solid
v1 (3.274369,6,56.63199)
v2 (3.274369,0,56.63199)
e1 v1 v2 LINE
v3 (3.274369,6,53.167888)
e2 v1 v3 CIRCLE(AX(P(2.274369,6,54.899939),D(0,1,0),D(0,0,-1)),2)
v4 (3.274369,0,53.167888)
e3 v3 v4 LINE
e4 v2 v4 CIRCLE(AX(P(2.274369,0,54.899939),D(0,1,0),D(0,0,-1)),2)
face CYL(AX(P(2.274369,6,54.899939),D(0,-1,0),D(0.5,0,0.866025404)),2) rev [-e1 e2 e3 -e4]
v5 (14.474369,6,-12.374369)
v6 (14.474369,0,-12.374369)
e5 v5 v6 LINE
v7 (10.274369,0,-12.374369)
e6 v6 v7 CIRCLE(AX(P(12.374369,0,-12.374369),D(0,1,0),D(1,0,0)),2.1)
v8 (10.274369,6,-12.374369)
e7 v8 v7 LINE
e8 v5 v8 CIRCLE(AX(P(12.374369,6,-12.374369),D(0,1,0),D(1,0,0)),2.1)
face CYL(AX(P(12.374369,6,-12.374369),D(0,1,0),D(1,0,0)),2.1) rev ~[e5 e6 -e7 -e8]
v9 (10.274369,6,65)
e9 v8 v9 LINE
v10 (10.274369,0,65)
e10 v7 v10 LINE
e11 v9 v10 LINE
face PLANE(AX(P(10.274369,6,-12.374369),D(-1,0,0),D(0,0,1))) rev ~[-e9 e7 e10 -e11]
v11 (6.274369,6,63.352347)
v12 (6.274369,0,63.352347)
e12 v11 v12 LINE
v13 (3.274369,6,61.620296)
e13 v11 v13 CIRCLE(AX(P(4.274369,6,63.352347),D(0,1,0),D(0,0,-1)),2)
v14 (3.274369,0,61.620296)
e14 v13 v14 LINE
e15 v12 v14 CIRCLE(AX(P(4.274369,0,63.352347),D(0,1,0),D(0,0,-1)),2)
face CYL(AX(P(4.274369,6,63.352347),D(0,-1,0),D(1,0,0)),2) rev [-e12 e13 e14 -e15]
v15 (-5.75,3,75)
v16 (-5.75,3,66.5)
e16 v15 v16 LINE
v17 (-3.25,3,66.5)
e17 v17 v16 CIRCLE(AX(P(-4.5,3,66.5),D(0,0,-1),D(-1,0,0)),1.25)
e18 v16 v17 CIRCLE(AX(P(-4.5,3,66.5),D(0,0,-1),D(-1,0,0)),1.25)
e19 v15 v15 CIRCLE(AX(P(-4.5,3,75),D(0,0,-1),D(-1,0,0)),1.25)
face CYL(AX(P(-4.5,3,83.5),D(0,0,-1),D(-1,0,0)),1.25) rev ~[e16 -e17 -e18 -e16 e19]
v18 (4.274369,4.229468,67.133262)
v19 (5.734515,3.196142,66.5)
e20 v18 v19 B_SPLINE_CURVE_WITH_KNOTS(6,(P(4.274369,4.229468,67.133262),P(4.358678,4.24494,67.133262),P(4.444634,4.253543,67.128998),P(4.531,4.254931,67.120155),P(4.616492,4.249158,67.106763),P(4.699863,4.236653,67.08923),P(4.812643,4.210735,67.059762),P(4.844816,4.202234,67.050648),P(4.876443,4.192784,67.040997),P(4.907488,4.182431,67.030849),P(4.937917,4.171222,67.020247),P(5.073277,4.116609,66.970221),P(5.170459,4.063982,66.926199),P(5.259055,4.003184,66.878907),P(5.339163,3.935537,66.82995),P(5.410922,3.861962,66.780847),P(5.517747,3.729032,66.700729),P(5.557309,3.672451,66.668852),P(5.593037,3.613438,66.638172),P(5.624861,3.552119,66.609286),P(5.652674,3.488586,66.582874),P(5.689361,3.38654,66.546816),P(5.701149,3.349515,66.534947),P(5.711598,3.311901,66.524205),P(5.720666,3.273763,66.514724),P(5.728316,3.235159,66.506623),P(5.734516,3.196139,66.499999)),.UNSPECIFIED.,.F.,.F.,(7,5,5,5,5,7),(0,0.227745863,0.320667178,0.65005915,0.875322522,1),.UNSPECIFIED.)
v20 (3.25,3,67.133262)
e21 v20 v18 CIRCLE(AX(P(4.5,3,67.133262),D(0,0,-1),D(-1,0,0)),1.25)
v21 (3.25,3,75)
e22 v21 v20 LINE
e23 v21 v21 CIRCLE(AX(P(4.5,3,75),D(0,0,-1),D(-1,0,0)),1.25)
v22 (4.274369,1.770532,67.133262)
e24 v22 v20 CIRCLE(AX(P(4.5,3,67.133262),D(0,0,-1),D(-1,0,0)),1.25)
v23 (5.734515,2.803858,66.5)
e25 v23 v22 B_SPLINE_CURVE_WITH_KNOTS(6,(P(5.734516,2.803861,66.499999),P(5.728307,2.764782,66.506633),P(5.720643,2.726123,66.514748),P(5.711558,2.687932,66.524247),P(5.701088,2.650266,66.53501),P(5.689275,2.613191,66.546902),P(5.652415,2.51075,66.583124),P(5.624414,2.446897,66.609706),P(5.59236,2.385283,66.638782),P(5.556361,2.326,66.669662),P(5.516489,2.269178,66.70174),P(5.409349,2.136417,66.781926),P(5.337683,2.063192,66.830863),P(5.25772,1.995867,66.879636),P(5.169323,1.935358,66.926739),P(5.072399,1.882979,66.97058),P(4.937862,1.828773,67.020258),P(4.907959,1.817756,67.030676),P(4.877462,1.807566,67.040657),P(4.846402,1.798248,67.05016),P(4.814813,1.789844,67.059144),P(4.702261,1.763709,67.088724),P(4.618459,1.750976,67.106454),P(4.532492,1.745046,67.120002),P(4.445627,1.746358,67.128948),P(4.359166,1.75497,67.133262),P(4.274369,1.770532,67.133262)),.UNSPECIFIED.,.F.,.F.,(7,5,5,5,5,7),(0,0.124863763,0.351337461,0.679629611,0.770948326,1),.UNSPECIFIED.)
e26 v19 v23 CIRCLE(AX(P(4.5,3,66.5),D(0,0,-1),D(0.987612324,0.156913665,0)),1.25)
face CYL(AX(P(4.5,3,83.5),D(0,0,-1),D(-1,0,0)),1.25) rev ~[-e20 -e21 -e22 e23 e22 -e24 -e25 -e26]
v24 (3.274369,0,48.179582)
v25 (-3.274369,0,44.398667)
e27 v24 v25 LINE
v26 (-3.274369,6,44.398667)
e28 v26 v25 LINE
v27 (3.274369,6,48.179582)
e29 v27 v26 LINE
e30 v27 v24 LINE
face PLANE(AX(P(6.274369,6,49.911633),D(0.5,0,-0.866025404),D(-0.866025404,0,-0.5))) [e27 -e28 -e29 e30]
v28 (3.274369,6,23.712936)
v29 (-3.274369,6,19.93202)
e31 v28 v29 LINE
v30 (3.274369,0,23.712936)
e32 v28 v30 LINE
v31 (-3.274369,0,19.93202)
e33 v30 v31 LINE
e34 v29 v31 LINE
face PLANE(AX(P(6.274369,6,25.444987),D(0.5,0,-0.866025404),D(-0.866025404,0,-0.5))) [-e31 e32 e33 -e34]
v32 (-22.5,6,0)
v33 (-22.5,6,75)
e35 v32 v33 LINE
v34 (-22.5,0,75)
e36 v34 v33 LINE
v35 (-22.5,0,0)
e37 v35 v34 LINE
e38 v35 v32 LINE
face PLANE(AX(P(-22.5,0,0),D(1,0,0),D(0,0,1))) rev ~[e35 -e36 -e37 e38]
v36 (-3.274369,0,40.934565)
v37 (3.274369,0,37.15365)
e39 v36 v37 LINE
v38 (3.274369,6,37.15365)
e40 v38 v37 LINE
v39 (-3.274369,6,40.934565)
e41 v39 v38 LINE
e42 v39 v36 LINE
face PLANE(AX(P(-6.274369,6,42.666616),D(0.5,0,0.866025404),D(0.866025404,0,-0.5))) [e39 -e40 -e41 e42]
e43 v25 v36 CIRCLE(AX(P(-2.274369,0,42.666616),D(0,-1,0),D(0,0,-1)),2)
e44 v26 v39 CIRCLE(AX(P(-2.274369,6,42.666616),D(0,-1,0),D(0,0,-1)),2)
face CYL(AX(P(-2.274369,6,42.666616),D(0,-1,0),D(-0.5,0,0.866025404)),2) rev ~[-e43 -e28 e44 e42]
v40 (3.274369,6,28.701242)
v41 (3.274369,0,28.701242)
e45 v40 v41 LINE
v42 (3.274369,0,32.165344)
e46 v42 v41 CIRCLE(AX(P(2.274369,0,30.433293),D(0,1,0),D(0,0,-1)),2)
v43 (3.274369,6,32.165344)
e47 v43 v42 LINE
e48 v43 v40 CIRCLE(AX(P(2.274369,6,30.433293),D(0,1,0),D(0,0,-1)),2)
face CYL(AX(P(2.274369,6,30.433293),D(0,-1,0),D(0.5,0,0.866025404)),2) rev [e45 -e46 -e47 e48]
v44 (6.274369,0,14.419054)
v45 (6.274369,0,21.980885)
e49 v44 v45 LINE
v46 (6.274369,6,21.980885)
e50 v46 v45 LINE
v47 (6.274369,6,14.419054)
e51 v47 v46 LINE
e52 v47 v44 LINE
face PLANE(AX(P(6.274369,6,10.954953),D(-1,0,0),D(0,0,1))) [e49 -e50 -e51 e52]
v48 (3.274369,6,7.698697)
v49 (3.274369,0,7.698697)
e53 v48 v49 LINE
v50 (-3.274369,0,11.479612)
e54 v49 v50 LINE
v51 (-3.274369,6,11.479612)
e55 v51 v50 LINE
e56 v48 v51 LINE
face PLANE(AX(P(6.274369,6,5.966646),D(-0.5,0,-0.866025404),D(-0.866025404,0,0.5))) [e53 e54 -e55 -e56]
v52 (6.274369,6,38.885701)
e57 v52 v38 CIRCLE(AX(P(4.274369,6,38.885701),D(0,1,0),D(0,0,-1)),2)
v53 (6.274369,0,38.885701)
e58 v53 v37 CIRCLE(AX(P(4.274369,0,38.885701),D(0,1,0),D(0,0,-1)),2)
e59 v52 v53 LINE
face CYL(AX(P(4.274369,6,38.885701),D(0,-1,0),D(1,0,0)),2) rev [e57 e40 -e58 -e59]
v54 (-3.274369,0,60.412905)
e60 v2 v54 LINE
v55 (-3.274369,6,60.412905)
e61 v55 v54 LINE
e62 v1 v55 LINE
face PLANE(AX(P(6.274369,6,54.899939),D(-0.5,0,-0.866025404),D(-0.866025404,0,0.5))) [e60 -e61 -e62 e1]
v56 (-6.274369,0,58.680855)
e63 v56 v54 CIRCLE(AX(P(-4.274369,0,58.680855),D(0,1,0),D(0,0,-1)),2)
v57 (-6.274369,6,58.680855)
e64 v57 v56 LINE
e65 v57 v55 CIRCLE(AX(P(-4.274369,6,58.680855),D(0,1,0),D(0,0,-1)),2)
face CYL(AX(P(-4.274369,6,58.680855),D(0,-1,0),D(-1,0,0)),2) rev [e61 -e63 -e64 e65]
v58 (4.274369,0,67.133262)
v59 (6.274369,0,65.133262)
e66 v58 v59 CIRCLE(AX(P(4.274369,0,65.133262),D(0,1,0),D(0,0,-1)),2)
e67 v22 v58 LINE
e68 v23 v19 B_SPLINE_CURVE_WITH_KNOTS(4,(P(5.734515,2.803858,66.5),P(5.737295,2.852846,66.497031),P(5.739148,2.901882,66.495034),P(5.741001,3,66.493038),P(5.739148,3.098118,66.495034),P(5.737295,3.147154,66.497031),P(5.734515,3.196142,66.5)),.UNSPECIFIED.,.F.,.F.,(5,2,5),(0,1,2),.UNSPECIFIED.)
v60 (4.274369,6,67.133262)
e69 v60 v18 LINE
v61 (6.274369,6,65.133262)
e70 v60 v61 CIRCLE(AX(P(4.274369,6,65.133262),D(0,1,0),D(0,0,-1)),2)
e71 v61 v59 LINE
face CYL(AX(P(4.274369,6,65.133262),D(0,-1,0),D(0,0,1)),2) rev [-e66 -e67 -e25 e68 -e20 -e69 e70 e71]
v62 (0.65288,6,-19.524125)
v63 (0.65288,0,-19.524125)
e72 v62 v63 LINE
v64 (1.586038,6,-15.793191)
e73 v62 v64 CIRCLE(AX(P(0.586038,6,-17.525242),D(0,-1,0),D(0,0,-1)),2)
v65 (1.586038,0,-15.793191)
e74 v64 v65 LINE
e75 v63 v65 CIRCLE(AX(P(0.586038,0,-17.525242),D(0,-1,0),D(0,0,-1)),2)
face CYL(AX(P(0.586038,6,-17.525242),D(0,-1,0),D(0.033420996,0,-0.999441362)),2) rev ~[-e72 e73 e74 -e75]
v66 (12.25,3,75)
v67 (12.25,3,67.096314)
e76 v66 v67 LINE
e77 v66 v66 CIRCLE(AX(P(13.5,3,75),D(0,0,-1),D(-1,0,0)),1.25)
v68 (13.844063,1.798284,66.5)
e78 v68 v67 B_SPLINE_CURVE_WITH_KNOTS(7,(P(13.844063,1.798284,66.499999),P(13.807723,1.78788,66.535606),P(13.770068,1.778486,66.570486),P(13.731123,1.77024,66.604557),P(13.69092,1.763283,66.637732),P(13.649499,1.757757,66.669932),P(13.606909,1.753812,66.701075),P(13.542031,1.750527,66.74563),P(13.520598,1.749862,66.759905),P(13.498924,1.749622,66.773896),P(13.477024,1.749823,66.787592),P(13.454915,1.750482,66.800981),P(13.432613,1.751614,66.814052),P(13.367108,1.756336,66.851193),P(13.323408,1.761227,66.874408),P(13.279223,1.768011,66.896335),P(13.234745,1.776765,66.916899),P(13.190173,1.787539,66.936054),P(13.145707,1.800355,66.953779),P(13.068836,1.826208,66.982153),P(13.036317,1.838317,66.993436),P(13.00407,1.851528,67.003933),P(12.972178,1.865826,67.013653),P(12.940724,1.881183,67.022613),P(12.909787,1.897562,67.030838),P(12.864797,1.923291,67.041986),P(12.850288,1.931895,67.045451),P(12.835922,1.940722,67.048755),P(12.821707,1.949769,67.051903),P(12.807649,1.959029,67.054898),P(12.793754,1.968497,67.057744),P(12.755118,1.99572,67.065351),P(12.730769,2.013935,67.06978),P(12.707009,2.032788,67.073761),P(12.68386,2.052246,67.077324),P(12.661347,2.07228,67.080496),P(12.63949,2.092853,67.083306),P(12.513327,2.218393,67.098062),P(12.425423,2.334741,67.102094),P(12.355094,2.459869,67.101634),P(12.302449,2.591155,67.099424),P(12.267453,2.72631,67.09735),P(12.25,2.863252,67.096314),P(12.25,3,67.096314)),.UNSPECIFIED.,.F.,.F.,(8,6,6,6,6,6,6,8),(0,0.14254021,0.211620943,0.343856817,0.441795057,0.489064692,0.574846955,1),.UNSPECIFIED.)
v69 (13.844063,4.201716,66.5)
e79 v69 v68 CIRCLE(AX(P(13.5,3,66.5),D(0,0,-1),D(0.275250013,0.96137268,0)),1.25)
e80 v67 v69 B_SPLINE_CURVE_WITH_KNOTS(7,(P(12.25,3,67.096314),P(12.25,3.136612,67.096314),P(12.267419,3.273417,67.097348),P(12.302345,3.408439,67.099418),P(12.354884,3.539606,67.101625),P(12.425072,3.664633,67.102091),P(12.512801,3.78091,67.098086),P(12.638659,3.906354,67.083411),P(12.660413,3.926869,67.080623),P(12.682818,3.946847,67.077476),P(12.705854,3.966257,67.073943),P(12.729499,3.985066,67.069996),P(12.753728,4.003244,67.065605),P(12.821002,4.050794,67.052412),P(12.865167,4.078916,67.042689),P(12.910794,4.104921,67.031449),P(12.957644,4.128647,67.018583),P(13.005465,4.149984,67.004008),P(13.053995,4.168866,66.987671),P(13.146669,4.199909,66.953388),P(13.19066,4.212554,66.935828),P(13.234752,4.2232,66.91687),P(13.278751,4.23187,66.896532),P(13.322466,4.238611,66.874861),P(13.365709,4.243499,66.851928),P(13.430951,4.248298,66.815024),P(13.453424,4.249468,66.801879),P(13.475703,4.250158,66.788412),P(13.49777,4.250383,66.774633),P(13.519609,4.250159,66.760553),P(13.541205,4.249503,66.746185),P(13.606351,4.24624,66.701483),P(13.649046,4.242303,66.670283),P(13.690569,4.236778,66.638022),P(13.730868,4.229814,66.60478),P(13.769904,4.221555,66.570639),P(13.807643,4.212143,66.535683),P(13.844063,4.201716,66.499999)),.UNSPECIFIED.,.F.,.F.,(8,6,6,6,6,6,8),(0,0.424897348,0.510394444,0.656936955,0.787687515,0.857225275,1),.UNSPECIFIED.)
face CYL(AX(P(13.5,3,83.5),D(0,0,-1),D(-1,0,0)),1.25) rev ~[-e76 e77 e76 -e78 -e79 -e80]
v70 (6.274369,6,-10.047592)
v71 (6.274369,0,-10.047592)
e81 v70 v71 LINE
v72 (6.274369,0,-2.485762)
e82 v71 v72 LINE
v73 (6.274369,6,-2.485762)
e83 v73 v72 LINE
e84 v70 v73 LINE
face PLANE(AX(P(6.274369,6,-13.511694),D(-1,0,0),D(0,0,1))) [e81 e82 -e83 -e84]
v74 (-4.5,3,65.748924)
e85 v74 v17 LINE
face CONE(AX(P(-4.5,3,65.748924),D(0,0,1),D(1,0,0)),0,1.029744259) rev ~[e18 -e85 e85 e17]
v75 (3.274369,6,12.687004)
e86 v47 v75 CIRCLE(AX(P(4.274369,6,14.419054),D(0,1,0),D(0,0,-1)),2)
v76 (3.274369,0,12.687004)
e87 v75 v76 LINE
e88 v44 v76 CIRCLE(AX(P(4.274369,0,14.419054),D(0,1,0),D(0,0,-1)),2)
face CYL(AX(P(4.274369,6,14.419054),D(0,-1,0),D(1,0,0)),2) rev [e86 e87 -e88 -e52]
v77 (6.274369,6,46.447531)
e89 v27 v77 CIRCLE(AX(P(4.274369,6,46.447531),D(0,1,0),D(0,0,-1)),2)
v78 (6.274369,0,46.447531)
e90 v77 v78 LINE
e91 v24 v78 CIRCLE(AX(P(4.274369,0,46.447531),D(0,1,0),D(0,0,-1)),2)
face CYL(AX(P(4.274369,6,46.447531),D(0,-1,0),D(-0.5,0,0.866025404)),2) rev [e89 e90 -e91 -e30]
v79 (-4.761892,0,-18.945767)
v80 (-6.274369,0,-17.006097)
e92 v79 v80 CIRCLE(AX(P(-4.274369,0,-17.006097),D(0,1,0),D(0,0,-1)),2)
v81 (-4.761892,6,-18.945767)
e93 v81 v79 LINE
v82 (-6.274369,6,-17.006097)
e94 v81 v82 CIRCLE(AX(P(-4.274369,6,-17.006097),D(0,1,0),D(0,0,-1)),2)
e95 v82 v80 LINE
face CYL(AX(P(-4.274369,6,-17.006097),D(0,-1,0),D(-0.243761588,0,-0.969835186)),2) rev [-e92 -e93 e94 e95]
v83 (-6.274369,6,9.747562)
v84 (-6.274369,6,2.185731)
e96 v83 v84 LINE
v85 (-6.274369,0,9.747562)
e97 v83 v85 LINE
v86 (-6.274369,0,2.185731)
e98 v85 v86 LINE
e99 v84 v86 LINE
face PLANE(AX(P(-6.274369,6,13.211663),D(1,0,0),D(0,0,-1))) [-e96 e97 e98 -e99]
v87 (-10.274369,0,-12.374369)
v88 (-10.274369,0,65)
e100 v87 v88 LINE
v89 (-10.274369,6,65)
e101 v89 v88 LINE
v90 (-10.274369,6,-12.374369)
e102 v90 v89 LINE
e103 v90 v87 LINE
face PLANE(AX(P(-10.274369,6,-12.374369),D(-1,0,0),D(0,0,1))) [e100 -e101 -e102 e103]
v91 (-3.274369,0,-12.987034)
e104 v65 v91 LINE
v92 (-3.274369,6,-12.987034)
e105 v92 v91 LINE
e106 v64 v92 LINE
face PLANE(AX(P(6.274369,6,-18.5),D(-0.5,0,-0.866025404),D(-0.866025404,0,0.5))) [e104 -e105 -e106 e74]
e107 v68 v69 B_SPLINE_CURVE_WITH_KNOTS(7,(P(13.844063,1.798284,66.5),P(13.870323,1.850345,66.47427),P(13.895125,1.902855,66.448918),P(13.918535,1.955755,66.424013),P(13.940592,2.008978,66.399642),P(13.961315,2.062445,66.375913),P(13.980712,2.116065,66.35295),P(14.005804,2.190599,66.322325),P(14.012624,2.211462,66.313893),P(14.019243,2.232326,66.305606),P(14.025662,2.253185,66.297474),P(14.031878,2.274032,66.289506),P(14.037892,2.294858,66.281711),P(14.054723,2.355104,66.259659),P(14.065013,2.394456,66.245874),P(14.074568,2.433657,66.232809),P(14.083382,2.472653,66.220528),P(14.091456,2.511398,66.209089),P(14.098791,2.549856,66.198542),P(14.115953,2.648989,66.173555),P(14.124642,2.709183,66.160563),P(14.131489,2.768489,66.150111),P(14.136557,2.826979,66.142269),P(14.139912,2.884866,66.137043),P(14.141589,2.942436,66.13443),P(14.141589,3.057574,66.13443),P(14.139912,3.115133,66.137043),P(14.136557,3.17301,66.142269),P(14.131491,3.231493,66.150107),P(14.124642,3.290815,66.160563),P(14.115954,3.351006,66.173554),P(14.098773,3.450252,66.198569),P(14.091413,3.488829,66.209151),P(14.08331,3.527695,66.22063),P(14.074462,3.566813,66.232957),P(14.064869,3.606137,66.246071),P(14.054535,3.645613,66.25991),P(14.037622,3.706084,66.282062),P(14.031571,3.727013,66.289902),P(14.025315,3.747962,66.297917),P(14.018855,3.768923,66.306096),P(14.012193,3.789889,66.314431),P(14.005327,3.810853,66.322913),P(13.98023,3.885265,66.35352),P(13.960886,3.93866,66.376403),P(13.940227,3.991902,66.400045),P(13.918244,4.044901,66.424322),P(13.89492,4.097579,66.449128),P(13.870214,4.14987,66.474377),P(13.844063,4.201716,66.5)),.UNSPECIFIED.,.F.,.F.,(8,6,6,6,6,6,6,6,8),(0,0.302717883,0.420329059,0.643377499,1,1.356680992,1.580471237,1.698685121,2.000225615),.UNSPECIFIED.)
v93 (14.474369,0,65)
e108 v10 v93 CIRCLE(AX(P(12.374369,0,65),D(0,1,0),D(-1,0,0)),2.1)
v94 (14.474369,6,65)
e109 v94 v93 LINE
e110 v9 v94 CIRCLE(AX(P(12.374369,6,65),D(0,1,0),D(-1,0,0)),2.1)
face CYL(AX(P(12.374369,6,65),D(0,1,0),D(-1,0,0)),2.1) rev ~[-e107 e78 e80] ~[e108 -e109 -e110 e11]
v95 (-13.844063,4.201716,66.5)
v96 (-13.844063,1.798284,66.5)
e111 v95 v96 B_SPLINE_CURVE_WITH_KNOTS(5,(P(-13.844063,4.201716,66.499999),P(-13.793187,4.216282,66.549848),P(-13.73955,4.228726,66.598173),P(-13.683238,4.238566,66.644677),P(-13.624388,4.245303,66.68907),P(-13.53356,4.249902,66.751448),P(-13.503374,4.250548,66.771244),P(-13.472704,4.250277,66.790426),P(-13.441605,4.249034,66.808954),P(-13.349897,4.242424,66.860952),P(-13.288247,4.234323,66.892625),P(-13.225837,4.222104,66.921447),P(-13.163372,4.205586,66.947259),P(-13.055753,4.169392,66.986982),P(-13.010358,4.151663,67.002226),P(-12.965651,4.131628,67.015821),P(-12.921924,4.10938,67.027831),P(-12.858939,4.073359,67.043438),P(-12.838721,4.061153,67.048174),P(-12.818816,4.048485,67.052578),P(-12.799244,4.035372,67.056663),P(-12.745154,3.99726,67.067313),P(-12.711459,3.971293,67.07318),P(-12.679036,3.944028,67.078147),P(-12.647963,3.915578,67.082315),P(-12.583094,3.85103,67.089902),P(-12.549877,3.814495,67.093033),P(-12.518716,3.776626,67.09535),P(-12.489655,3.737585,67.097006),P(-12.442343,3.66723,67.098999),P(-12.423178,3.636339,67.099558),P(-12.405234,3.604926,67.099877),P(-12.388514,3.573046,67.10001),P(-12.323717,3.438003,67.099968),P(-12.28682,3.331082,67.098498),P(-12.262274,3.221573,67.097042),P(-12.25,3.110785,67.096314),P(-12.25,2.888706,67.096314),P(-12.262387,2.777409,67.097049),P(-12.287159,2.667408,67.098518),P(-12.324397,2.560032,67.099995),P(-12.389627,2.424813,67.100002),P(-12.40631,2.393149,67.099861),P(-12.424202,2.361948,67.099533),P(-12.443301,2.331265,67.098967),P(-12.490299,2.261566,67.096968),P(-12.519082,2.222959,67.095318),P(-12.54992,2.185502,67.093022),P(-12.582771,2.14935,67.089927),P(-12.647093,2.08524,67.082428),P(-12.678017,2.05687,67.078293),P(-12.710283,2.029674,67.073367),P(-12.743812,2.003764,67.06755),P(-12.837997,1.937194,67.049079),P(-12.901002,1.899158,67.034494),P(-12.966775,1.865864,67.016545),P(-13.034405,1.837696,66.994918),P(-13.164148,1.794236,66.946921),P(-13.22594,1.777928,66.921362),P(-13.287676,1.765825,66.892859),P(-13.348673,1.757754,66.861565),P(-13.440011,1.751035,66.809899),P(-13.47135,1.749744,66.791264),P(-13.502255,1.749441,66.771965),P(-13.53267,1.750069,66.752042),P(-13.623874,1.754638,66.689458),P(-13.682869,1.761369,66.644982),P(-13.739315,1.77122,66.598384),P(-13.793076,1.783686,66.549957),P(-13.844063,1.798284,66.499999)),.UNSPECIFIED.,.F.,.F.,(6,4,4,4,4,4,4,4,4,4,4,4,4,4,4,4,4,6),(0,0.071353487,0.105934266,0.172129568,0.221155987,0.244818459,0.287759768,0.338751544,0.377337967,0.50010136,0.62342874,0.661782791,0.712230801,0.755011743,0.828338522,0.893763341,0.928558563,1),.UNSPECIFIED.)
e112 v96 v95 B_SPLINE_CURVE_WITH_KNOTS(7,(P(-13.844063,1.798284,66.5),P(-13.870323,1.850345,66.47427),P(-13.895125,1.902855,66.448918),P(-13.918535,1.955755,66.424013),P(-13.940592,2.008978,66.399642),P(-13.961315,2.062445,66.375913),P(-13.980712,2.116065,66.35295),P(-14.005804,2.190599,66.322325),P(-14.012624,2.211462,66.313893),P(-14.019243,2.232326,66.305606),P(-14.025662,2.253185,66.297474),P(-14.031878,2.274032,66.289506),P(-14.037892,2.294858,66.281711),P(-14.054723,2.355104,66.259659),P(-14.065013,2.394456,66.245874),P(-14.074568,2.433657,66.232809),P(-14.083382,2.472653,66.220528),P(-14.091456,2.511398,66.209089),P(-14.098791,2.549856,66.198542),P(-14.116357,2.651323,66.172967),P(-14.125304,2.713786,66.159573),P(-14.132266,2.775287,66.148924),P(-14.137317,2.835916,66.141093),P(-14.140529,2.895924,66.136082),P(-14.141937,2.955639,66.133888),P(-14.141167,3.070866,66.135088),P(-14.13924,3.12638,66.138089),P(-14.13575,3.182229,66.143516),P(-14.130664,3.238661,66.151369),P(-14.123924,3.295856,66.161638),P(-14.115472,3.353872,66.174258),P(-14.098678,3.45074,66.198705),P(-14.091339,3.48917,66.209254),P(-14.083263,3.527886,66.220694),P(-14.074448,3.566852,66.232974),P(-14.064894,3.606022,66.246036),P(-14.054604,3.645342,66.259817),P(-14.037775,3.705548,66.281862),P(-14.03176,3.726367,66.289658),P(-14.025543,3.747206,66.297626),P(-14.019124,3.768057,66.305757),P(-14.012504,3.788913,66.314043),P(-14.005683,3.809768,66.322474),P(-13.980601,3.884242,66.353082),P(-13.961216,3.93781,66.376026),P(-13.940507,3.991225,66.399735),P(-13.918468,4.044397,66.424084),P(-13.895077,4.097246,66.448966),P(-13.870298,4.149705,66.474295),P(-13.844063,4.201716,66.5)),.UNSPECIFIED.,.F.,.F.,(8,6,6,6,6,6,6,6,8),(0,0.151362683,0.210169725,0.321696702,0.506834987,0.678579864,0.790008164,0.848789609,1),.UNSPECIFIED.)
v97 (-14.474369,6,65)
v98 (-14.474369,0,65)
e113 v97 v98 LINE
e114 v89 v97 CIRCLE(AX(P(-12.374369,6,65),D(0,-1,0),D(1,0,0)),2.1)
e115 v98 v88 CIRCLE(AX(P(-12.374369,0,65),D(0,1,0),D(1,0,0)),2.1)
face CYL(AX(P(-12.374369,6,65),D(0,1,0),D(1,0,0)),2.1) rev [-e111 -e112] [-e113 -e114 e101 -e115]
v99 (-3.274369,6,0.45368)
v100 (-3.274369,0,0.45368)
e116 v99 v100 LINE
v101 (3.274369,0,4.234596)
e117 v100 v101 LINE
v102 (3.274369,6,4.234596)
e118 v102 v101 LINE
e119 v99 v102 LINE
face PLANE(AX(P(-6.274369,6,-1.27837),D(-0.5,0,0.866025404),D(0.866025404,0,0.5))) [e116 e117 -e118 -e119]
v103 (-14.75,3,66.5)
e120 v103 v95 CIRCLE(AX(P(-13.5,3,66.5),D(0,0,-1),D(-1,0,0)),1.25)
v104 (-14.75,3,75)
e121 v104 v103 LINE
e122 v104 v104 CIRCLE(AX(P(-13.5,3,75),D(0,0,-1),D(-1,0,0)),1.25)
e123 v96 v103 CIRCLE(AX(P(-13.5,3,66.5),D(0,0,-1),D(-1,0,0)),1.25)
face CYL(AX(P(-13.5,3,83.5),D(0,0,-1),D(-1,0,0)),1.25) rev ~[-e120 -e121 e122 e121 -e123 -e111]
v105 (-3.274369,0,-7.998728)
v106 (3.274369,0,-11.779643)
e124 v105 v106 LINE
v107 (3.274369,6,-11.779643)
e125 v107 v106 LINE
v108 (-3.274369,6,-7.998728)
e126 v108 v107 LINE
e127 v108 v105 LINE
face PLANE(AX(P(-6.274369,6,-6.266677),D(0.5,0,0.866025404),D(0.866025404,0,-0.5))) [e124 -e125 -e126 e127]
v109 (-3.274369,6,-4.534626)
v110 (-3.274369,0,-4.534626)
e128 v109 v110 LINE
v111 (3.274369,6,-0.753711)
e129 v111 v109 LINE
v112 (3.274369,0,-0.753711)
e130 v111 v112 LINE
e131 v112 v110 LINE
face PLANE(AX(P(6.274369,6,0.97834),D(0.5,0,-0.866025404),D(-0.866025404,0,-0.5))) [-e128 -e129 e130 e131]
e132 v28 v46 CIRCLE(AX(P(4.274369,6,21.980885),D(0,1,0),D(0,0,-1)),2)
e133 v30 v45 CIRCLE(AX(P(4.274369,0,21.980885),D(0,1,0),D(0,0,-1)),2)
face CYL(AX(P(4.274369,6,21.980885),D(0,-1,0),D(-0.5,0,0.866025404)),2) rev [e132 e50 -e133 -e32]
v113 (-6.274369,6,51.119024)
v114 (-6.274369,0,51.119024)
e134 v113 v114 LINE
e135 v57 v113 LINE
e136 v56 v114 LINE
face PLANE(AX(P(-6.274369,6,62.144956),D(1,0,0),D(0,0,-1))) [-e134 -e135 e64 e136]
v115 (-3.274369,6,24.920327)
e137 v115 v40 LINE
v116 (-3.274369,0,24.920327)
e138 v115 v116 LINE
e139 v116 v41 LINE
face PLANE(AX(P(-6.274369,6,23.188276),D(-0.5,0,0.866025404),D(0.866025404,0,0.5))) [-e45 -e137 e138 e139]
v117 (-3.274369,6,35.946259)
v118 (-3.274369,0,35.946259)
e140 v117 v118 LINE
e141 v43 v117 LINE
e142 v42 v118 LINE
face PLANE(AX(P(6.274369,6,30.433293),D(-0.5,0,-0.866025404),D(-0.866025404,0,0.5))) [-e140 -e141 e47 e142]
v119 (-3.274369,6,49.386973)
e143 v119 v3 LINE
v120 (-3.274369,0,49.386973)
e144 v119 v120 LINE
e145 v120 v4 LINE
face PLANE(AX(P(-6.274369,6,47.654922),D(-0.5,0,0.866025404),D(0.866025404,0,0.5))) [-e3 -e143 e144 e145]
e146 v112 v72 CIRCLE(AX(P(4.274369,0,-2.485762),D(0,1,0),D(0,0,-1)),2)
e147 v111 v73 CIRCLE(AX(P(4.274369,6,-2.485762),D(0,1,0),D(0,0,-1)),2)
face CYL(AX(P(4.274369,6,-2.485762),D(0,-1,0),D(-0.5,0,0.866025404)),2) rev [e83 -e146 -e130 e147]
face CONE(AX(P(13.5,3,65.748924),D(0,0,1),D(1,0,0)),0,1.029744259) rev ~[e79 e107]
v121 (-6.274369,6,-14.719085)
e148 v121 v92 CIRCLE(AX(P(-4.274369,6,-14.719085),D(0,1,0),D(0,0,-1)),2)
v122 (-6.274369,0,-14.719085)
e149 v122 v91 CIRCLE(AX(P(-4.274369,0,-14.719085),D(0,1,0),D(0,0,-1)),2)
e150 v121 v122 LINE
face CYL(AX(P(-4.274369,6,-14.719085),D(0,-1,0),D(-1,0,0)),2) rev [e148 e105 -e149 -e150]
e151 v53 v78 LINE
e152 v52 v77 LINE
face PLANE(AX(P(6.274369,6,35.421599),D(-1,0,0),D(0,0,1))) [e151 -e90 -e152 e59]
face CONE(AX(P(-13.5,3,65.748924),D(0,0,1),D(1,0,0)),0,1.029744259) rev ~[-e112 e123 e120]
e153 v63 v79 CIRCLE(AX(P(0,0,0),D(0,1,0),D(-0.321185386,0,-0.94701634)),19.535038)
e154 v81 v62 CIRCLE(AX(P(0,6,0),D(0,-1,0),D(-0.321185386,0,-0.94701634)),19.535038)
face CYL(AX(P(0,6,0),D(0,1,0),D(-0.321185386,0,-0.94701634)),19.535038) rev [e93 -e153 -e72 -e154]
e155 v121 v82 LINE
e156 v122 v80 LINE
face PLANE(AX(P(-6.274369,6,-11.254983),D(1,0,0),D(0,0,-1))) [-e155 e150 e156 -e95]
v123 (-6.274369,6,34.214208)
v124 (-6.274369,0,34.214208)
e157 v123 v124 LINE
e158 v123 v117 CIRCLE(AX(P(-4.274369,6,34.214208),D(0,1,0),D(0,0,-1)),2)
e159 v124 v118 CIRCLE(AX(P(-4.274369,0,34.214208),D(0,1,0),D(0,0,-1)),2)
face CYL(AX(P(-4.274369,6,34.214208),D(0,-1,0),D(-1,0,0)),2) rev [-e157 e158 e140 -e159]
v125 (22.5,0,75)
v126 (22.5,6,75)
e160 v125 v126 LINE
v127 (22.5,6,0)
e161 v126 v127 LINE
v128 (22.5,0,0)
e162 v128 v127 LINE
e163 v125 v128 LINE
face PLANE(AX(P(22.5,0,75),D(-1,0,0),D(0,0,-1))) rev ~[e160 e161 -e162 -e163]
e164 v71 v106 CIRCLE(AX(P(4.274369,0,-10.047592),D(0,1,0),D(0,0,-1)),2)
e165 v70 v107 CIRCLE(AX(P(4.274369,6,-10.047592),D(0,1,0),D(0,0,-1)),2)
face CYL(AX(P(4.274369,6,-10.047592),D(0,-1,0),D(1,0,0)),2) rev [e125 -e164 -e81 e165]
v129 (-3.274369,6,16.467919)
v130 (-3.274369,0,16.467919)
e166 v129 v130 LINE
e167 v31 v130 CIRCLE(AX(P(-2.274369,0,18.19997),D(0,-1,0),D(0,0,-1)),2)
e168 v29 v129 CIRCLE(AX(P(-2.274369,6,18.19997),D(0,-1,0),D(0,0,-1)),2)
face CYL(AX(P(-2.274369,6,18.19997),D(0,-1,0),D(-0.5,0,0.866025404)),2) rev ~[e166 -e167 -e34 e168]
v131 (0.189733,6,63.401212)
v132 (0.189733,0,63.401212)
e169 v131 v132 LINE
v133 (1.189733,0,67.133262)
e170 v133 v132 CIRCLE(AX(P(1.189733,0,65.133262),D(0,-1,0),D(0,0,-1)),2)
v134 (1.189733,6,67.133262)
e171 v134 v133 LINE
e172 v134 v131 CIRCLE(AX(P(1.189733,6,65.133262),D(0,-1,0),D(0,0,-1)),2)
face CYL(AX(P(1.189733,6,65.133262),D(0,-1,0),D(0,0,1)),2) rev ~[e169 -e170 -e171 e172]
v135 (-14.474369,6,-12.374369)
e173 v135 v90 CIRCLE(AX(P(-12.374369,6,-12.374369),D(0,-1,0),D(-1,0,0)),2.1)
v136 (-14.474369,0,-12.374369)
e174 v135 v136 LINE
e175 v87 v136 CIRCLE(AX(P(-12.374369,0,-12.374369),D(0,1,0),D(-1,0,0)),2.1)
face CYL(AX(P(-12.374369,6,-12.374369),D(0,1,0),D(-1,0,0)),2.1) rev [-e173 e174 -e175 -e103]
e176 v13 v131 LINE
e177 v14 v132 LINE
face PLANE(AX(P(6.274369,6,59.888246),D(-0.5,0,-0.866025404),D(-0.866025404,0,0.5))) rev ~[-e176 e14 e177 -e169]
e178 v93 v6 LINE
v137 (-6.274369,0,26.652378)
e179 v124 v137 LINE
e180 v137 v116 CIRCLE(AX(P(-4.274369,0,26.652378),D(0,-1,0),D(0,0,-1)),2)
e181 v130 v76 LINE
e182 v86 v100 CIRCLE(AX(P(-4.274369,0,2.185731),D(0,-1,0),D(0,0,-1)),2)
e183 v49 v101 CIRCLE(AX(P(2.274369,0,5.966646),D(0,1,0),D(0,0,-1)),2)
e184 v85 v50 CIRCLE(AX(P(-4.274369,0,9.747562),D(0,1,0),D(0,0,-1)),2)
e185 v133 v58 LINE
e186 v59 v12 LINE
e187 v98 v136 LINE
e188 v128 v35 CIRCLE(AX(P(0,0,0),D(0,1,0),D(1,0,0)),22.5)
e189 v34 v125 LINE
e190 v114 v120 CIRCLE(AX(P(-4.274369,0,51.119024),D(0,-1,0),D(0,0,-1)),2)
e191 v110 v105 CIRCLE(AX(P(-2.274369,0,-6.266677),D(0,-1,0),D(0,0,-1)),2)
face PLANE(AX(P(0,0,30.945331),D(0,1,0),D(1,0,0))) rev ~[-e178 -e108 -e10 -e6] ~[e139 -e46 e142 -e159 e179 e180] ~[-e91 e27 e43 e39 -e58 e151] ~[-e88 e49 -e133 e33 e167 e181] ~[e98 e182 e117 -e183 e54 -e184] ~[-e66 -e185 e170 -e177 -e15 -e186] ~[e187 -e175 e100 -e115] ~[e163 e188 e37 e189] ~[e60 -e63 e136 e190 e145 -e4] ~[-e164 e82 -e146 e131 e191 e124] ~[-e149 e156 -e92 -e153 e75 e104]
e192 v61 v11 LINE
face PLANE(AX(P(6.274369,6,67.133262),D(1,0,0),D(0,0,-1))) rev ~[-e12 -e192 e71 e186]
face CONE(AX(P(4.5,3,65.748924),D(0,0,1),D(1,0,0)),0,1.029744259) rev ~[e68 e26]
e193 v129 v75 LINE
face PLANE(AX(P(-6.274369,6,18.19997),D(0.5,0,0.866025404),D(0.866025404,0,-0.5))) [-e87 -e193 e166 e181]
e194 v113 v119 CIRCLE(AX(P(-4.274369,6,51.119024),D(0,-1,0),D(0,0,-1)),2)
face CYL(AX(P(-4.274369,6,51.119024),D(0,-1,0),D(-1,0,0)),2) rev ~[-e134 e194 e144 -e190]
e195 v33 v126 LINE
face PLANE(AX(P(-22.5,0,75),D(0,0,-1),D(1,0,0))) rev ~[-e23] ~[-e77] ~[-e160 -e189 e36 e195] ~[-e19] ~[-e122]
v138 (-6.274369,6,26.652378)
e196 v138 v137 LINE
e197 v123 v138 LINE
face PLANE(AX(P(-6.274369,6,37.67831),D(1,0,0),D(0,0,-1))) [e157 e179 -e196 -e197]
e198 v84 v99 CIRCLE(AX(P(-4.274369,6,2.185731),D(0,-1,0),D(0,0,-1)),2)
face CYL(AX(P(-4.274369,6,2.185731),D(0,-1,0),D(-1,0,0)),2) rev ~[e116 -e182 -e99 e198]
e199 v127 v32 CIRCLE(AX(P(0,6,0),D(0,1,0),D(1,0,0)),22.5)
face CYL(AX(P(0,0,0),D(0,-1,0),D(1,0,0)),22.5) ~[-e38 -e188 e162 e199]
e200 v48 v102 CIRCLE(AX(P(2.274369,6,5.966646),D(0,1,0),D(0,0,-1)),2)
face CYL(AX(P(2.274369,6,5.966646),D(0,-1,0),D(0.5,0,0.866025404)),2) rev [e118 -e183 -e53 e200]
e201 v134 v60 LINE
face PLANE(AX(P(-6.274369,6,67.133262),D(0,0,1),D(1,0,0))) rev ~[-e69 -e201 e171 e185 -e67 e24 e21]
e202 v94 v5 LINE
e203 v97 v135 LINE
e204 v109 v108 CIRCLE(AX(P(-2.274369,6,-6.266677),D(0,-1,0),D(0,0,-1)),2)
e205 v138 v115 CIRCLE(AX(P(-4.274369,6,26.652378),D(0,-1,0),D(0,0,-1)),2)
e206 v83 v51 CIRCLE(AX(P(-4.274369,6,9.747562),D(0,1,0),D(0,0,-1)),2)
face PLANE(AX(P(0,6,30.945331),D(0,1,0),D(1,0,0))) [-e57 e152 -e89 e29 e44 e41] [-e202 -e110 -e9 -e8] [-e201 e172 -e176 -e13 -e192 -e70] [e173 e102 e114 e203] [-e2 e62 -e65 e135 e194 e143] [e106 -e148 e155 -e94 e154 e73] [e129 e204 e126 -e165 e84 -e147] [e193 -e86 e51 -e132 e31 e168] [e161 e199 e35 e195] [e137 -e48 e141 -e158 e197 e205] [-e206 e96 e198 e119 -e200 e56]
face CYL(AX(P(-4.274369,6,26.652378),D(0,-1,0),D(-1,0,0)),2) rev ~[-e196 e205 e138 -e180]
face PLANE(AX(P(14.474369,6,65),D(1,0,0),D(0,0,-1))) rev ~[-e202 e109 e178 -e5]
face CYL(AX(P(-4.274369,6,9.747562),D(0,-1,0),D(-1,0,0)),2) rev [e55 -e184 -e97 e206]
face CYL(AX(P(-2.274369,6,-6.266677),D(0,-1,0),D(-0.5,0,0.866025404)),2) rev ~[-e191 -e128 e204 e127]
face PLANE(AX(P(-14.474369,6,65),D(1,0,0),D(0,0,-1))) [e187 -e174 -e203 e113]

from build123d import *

# Parameters (mm, degrees)
EXTRUDE_1_DEPTH     = 6
CUT_EXTRUDE_1_DEPTH = 79.531840676
CUT_EXTRUDE_2_DEPTH = 79.531840676
FILLET_1_R          = 2
M3X0_51_D           = 2.5
M3X0_51_DEPTH       = 8.5
M3X0_51_TIP         = 0.751075774


with BuildPart() as part:
    # Эскиз1 → Бобышка-Вытянуть1 (new body)
    with BuildSketch(Plane(origin=(0, 0, 0), x_dir=(1, 0, 0), z_dir=(0, 1, 0))):
        with BuildLine():
            Line((-22.5, 0), (-22.5, -75))
            Line((-22.5, -75), (22.5, -75))
            Line((22.5, -75), (22.5, 0))
            ThreePointArc((22.5, 0), (0, 22.5), (-22.5, 0))
        make_face()
    extrude(amount=EXTRUDE_1_DEPTH)

    # Эскиз2 → Вырез-Вытянуть1 (cut, through all)
    with BuildSketch(Plane(origin=(0, 6, 0), x_dir=(1, 0, 0), z_dir=(0, 1, 0))):
        with BuildLine():
            Line((-10.274368671, 12.374368671), (-10.274368671, -65))
            ThreePointArc((-10.274368671, -65), (-12.374368671, -67.1), (-14.474368671, -65))
            Line((-14.474368671, -65), (-14.474368671, 12.374368671))
            ThreePointArc((-14.474368671, 12.374368671), (-12.374368671, 14.474368671), (-10.274368671, 12.374368671))
        make_face()
        with BuildLine():
            Line((10.274368671, 12.374368671), (10.274368671, -65))
            ThreePointArc((10.274368671, -65), (12.374368671, -67.1), (14.474368671, -65))
            Line((14.474368671, -65), (14.474368671, 12.374368671))
            ThreePointArc((14.474368671, 12.374368671), (12.374368671, 14.474368671), (10.274368671, 12.374368671))
        make_face()
    extrude(amount=-CUT_EXTRUDE_1_DEPTH, mode=Mode.SUBTRACT)

    # Эскиз11 → Вырез-Вытянуть2 (cut, through all)
    with BuildSketch(Plane(origin=(0, 6, 0), x_dir=(1, 0, 0), z_dir=(0, 1, 0))):
        with BuildLine():
            Line((6.274368671, 18.5), (-6.274368671, 11.254983118))
            Line((-6.274368671, 11.254983118), (-6.274368671, 18.5))
            ThreePointArc((-6.274368671, 18.5), (0, 19.535037809), (6.274368671, 18.5))
        make_face()
        Polygon((-6.274368671, 6.266676792), (6.274368671, 13.511693674), (6.274368671, -0.97834009), align=None)
        Polygon((-6.274368671, 1.278370466), (6.274368671, -5.966646416), (-6.274368671, -13.211663298), align=None)
        Polygon((-6.274368671, -18.199969624), (6.274368671, -10.954952742), (6.274368671, -25.444986506), align=None)
        Polygon((-6.274368671, -23.18827595), (6.274368671, -30.433292832), (-6.274368671, -37.678309714), align=None)
        Polygon((-6.274368671, -42.66661604), (6.274368671, -35.421599157), (6.274368671, -49.911632922), align=None)
        Polygon((-6.274368671, -47.654922365), (6.274368671, -54.899939248), (-6.274368671, -62.14495613), align=None)
        Polygon((-6.274368671, -67.133262455), (6.274368671, -67.133262455), (6.274368671, -59.888245573), align=None)
    extrude(amount=-CUT_EXTRUDE_2_DEPTH, mode=Mode.SUBTRACT)

    # Скругление1
    fillet_1_edges = [part.edges().sort_by_distance(p)[0] for p in [
        (-6.274368671, 3, 62.14495613),
        (-6.274368671, 3, 47.654922365),
        (6.274368671, 3, 54.899939248),
        (-6.274368671, 3, 67.133262455),
        (6.274368671, 3, 59.888245573),
        (6.274368671, 3, 67.133262455),
        (-6.274368671, 3, -18.5),
        (6.274368671, 3, -18.5),
        (-6.274368671, 3, -11.254983118),
        (6.274368671, 3, 0.97834009),
        (-6.274368671, 3, -6.266676792),
        (6.274368671, 3, -13.511693674),
        (-6.274368671, 3, 13.211663298),
        (-6.274368671, 3, -1.278370466),
        (6.274368671, 3, 5.966646416),
        (6.274368671, 3, 25.444986506),
        (-6.274368671, 3, 18.199969624),
        (6.274368671, 3, 10.954952742),
        (-6.274368671, 3, 37.678309714),
        (-6.274368671, 3, 23.18827595),
        (6.274368671, 3, 30.433292832),
        (6.274368671, 3, 49.911632922),
        (-6.274368671, 3, 42.66661604),
        (6.274368671, 3, 35.421599157),
    ]]
    fillet(fillet_1_edges, radius=FILLET_1_R)

    # Отверстие обработанное метчиком M3x0.51
    with Locations(Plane.XY.offset(75)):
        with Locations((-13.5, 3), (-4.5, 3), (4.5, 3), (13.5, 3)):
            Hole(M3X0_51_D / 2, depth=M3X0_51_DEPTH)
            with Locations((0, 0, -(M3X0_51_DEPTH + M3X0_51_TIP / 2))):  # 118° drill point
                Cone(0, M3X0_51_D / 2, M3X0_51_TIP, mode=Mode.SUBTRACT)


solid = part.part
